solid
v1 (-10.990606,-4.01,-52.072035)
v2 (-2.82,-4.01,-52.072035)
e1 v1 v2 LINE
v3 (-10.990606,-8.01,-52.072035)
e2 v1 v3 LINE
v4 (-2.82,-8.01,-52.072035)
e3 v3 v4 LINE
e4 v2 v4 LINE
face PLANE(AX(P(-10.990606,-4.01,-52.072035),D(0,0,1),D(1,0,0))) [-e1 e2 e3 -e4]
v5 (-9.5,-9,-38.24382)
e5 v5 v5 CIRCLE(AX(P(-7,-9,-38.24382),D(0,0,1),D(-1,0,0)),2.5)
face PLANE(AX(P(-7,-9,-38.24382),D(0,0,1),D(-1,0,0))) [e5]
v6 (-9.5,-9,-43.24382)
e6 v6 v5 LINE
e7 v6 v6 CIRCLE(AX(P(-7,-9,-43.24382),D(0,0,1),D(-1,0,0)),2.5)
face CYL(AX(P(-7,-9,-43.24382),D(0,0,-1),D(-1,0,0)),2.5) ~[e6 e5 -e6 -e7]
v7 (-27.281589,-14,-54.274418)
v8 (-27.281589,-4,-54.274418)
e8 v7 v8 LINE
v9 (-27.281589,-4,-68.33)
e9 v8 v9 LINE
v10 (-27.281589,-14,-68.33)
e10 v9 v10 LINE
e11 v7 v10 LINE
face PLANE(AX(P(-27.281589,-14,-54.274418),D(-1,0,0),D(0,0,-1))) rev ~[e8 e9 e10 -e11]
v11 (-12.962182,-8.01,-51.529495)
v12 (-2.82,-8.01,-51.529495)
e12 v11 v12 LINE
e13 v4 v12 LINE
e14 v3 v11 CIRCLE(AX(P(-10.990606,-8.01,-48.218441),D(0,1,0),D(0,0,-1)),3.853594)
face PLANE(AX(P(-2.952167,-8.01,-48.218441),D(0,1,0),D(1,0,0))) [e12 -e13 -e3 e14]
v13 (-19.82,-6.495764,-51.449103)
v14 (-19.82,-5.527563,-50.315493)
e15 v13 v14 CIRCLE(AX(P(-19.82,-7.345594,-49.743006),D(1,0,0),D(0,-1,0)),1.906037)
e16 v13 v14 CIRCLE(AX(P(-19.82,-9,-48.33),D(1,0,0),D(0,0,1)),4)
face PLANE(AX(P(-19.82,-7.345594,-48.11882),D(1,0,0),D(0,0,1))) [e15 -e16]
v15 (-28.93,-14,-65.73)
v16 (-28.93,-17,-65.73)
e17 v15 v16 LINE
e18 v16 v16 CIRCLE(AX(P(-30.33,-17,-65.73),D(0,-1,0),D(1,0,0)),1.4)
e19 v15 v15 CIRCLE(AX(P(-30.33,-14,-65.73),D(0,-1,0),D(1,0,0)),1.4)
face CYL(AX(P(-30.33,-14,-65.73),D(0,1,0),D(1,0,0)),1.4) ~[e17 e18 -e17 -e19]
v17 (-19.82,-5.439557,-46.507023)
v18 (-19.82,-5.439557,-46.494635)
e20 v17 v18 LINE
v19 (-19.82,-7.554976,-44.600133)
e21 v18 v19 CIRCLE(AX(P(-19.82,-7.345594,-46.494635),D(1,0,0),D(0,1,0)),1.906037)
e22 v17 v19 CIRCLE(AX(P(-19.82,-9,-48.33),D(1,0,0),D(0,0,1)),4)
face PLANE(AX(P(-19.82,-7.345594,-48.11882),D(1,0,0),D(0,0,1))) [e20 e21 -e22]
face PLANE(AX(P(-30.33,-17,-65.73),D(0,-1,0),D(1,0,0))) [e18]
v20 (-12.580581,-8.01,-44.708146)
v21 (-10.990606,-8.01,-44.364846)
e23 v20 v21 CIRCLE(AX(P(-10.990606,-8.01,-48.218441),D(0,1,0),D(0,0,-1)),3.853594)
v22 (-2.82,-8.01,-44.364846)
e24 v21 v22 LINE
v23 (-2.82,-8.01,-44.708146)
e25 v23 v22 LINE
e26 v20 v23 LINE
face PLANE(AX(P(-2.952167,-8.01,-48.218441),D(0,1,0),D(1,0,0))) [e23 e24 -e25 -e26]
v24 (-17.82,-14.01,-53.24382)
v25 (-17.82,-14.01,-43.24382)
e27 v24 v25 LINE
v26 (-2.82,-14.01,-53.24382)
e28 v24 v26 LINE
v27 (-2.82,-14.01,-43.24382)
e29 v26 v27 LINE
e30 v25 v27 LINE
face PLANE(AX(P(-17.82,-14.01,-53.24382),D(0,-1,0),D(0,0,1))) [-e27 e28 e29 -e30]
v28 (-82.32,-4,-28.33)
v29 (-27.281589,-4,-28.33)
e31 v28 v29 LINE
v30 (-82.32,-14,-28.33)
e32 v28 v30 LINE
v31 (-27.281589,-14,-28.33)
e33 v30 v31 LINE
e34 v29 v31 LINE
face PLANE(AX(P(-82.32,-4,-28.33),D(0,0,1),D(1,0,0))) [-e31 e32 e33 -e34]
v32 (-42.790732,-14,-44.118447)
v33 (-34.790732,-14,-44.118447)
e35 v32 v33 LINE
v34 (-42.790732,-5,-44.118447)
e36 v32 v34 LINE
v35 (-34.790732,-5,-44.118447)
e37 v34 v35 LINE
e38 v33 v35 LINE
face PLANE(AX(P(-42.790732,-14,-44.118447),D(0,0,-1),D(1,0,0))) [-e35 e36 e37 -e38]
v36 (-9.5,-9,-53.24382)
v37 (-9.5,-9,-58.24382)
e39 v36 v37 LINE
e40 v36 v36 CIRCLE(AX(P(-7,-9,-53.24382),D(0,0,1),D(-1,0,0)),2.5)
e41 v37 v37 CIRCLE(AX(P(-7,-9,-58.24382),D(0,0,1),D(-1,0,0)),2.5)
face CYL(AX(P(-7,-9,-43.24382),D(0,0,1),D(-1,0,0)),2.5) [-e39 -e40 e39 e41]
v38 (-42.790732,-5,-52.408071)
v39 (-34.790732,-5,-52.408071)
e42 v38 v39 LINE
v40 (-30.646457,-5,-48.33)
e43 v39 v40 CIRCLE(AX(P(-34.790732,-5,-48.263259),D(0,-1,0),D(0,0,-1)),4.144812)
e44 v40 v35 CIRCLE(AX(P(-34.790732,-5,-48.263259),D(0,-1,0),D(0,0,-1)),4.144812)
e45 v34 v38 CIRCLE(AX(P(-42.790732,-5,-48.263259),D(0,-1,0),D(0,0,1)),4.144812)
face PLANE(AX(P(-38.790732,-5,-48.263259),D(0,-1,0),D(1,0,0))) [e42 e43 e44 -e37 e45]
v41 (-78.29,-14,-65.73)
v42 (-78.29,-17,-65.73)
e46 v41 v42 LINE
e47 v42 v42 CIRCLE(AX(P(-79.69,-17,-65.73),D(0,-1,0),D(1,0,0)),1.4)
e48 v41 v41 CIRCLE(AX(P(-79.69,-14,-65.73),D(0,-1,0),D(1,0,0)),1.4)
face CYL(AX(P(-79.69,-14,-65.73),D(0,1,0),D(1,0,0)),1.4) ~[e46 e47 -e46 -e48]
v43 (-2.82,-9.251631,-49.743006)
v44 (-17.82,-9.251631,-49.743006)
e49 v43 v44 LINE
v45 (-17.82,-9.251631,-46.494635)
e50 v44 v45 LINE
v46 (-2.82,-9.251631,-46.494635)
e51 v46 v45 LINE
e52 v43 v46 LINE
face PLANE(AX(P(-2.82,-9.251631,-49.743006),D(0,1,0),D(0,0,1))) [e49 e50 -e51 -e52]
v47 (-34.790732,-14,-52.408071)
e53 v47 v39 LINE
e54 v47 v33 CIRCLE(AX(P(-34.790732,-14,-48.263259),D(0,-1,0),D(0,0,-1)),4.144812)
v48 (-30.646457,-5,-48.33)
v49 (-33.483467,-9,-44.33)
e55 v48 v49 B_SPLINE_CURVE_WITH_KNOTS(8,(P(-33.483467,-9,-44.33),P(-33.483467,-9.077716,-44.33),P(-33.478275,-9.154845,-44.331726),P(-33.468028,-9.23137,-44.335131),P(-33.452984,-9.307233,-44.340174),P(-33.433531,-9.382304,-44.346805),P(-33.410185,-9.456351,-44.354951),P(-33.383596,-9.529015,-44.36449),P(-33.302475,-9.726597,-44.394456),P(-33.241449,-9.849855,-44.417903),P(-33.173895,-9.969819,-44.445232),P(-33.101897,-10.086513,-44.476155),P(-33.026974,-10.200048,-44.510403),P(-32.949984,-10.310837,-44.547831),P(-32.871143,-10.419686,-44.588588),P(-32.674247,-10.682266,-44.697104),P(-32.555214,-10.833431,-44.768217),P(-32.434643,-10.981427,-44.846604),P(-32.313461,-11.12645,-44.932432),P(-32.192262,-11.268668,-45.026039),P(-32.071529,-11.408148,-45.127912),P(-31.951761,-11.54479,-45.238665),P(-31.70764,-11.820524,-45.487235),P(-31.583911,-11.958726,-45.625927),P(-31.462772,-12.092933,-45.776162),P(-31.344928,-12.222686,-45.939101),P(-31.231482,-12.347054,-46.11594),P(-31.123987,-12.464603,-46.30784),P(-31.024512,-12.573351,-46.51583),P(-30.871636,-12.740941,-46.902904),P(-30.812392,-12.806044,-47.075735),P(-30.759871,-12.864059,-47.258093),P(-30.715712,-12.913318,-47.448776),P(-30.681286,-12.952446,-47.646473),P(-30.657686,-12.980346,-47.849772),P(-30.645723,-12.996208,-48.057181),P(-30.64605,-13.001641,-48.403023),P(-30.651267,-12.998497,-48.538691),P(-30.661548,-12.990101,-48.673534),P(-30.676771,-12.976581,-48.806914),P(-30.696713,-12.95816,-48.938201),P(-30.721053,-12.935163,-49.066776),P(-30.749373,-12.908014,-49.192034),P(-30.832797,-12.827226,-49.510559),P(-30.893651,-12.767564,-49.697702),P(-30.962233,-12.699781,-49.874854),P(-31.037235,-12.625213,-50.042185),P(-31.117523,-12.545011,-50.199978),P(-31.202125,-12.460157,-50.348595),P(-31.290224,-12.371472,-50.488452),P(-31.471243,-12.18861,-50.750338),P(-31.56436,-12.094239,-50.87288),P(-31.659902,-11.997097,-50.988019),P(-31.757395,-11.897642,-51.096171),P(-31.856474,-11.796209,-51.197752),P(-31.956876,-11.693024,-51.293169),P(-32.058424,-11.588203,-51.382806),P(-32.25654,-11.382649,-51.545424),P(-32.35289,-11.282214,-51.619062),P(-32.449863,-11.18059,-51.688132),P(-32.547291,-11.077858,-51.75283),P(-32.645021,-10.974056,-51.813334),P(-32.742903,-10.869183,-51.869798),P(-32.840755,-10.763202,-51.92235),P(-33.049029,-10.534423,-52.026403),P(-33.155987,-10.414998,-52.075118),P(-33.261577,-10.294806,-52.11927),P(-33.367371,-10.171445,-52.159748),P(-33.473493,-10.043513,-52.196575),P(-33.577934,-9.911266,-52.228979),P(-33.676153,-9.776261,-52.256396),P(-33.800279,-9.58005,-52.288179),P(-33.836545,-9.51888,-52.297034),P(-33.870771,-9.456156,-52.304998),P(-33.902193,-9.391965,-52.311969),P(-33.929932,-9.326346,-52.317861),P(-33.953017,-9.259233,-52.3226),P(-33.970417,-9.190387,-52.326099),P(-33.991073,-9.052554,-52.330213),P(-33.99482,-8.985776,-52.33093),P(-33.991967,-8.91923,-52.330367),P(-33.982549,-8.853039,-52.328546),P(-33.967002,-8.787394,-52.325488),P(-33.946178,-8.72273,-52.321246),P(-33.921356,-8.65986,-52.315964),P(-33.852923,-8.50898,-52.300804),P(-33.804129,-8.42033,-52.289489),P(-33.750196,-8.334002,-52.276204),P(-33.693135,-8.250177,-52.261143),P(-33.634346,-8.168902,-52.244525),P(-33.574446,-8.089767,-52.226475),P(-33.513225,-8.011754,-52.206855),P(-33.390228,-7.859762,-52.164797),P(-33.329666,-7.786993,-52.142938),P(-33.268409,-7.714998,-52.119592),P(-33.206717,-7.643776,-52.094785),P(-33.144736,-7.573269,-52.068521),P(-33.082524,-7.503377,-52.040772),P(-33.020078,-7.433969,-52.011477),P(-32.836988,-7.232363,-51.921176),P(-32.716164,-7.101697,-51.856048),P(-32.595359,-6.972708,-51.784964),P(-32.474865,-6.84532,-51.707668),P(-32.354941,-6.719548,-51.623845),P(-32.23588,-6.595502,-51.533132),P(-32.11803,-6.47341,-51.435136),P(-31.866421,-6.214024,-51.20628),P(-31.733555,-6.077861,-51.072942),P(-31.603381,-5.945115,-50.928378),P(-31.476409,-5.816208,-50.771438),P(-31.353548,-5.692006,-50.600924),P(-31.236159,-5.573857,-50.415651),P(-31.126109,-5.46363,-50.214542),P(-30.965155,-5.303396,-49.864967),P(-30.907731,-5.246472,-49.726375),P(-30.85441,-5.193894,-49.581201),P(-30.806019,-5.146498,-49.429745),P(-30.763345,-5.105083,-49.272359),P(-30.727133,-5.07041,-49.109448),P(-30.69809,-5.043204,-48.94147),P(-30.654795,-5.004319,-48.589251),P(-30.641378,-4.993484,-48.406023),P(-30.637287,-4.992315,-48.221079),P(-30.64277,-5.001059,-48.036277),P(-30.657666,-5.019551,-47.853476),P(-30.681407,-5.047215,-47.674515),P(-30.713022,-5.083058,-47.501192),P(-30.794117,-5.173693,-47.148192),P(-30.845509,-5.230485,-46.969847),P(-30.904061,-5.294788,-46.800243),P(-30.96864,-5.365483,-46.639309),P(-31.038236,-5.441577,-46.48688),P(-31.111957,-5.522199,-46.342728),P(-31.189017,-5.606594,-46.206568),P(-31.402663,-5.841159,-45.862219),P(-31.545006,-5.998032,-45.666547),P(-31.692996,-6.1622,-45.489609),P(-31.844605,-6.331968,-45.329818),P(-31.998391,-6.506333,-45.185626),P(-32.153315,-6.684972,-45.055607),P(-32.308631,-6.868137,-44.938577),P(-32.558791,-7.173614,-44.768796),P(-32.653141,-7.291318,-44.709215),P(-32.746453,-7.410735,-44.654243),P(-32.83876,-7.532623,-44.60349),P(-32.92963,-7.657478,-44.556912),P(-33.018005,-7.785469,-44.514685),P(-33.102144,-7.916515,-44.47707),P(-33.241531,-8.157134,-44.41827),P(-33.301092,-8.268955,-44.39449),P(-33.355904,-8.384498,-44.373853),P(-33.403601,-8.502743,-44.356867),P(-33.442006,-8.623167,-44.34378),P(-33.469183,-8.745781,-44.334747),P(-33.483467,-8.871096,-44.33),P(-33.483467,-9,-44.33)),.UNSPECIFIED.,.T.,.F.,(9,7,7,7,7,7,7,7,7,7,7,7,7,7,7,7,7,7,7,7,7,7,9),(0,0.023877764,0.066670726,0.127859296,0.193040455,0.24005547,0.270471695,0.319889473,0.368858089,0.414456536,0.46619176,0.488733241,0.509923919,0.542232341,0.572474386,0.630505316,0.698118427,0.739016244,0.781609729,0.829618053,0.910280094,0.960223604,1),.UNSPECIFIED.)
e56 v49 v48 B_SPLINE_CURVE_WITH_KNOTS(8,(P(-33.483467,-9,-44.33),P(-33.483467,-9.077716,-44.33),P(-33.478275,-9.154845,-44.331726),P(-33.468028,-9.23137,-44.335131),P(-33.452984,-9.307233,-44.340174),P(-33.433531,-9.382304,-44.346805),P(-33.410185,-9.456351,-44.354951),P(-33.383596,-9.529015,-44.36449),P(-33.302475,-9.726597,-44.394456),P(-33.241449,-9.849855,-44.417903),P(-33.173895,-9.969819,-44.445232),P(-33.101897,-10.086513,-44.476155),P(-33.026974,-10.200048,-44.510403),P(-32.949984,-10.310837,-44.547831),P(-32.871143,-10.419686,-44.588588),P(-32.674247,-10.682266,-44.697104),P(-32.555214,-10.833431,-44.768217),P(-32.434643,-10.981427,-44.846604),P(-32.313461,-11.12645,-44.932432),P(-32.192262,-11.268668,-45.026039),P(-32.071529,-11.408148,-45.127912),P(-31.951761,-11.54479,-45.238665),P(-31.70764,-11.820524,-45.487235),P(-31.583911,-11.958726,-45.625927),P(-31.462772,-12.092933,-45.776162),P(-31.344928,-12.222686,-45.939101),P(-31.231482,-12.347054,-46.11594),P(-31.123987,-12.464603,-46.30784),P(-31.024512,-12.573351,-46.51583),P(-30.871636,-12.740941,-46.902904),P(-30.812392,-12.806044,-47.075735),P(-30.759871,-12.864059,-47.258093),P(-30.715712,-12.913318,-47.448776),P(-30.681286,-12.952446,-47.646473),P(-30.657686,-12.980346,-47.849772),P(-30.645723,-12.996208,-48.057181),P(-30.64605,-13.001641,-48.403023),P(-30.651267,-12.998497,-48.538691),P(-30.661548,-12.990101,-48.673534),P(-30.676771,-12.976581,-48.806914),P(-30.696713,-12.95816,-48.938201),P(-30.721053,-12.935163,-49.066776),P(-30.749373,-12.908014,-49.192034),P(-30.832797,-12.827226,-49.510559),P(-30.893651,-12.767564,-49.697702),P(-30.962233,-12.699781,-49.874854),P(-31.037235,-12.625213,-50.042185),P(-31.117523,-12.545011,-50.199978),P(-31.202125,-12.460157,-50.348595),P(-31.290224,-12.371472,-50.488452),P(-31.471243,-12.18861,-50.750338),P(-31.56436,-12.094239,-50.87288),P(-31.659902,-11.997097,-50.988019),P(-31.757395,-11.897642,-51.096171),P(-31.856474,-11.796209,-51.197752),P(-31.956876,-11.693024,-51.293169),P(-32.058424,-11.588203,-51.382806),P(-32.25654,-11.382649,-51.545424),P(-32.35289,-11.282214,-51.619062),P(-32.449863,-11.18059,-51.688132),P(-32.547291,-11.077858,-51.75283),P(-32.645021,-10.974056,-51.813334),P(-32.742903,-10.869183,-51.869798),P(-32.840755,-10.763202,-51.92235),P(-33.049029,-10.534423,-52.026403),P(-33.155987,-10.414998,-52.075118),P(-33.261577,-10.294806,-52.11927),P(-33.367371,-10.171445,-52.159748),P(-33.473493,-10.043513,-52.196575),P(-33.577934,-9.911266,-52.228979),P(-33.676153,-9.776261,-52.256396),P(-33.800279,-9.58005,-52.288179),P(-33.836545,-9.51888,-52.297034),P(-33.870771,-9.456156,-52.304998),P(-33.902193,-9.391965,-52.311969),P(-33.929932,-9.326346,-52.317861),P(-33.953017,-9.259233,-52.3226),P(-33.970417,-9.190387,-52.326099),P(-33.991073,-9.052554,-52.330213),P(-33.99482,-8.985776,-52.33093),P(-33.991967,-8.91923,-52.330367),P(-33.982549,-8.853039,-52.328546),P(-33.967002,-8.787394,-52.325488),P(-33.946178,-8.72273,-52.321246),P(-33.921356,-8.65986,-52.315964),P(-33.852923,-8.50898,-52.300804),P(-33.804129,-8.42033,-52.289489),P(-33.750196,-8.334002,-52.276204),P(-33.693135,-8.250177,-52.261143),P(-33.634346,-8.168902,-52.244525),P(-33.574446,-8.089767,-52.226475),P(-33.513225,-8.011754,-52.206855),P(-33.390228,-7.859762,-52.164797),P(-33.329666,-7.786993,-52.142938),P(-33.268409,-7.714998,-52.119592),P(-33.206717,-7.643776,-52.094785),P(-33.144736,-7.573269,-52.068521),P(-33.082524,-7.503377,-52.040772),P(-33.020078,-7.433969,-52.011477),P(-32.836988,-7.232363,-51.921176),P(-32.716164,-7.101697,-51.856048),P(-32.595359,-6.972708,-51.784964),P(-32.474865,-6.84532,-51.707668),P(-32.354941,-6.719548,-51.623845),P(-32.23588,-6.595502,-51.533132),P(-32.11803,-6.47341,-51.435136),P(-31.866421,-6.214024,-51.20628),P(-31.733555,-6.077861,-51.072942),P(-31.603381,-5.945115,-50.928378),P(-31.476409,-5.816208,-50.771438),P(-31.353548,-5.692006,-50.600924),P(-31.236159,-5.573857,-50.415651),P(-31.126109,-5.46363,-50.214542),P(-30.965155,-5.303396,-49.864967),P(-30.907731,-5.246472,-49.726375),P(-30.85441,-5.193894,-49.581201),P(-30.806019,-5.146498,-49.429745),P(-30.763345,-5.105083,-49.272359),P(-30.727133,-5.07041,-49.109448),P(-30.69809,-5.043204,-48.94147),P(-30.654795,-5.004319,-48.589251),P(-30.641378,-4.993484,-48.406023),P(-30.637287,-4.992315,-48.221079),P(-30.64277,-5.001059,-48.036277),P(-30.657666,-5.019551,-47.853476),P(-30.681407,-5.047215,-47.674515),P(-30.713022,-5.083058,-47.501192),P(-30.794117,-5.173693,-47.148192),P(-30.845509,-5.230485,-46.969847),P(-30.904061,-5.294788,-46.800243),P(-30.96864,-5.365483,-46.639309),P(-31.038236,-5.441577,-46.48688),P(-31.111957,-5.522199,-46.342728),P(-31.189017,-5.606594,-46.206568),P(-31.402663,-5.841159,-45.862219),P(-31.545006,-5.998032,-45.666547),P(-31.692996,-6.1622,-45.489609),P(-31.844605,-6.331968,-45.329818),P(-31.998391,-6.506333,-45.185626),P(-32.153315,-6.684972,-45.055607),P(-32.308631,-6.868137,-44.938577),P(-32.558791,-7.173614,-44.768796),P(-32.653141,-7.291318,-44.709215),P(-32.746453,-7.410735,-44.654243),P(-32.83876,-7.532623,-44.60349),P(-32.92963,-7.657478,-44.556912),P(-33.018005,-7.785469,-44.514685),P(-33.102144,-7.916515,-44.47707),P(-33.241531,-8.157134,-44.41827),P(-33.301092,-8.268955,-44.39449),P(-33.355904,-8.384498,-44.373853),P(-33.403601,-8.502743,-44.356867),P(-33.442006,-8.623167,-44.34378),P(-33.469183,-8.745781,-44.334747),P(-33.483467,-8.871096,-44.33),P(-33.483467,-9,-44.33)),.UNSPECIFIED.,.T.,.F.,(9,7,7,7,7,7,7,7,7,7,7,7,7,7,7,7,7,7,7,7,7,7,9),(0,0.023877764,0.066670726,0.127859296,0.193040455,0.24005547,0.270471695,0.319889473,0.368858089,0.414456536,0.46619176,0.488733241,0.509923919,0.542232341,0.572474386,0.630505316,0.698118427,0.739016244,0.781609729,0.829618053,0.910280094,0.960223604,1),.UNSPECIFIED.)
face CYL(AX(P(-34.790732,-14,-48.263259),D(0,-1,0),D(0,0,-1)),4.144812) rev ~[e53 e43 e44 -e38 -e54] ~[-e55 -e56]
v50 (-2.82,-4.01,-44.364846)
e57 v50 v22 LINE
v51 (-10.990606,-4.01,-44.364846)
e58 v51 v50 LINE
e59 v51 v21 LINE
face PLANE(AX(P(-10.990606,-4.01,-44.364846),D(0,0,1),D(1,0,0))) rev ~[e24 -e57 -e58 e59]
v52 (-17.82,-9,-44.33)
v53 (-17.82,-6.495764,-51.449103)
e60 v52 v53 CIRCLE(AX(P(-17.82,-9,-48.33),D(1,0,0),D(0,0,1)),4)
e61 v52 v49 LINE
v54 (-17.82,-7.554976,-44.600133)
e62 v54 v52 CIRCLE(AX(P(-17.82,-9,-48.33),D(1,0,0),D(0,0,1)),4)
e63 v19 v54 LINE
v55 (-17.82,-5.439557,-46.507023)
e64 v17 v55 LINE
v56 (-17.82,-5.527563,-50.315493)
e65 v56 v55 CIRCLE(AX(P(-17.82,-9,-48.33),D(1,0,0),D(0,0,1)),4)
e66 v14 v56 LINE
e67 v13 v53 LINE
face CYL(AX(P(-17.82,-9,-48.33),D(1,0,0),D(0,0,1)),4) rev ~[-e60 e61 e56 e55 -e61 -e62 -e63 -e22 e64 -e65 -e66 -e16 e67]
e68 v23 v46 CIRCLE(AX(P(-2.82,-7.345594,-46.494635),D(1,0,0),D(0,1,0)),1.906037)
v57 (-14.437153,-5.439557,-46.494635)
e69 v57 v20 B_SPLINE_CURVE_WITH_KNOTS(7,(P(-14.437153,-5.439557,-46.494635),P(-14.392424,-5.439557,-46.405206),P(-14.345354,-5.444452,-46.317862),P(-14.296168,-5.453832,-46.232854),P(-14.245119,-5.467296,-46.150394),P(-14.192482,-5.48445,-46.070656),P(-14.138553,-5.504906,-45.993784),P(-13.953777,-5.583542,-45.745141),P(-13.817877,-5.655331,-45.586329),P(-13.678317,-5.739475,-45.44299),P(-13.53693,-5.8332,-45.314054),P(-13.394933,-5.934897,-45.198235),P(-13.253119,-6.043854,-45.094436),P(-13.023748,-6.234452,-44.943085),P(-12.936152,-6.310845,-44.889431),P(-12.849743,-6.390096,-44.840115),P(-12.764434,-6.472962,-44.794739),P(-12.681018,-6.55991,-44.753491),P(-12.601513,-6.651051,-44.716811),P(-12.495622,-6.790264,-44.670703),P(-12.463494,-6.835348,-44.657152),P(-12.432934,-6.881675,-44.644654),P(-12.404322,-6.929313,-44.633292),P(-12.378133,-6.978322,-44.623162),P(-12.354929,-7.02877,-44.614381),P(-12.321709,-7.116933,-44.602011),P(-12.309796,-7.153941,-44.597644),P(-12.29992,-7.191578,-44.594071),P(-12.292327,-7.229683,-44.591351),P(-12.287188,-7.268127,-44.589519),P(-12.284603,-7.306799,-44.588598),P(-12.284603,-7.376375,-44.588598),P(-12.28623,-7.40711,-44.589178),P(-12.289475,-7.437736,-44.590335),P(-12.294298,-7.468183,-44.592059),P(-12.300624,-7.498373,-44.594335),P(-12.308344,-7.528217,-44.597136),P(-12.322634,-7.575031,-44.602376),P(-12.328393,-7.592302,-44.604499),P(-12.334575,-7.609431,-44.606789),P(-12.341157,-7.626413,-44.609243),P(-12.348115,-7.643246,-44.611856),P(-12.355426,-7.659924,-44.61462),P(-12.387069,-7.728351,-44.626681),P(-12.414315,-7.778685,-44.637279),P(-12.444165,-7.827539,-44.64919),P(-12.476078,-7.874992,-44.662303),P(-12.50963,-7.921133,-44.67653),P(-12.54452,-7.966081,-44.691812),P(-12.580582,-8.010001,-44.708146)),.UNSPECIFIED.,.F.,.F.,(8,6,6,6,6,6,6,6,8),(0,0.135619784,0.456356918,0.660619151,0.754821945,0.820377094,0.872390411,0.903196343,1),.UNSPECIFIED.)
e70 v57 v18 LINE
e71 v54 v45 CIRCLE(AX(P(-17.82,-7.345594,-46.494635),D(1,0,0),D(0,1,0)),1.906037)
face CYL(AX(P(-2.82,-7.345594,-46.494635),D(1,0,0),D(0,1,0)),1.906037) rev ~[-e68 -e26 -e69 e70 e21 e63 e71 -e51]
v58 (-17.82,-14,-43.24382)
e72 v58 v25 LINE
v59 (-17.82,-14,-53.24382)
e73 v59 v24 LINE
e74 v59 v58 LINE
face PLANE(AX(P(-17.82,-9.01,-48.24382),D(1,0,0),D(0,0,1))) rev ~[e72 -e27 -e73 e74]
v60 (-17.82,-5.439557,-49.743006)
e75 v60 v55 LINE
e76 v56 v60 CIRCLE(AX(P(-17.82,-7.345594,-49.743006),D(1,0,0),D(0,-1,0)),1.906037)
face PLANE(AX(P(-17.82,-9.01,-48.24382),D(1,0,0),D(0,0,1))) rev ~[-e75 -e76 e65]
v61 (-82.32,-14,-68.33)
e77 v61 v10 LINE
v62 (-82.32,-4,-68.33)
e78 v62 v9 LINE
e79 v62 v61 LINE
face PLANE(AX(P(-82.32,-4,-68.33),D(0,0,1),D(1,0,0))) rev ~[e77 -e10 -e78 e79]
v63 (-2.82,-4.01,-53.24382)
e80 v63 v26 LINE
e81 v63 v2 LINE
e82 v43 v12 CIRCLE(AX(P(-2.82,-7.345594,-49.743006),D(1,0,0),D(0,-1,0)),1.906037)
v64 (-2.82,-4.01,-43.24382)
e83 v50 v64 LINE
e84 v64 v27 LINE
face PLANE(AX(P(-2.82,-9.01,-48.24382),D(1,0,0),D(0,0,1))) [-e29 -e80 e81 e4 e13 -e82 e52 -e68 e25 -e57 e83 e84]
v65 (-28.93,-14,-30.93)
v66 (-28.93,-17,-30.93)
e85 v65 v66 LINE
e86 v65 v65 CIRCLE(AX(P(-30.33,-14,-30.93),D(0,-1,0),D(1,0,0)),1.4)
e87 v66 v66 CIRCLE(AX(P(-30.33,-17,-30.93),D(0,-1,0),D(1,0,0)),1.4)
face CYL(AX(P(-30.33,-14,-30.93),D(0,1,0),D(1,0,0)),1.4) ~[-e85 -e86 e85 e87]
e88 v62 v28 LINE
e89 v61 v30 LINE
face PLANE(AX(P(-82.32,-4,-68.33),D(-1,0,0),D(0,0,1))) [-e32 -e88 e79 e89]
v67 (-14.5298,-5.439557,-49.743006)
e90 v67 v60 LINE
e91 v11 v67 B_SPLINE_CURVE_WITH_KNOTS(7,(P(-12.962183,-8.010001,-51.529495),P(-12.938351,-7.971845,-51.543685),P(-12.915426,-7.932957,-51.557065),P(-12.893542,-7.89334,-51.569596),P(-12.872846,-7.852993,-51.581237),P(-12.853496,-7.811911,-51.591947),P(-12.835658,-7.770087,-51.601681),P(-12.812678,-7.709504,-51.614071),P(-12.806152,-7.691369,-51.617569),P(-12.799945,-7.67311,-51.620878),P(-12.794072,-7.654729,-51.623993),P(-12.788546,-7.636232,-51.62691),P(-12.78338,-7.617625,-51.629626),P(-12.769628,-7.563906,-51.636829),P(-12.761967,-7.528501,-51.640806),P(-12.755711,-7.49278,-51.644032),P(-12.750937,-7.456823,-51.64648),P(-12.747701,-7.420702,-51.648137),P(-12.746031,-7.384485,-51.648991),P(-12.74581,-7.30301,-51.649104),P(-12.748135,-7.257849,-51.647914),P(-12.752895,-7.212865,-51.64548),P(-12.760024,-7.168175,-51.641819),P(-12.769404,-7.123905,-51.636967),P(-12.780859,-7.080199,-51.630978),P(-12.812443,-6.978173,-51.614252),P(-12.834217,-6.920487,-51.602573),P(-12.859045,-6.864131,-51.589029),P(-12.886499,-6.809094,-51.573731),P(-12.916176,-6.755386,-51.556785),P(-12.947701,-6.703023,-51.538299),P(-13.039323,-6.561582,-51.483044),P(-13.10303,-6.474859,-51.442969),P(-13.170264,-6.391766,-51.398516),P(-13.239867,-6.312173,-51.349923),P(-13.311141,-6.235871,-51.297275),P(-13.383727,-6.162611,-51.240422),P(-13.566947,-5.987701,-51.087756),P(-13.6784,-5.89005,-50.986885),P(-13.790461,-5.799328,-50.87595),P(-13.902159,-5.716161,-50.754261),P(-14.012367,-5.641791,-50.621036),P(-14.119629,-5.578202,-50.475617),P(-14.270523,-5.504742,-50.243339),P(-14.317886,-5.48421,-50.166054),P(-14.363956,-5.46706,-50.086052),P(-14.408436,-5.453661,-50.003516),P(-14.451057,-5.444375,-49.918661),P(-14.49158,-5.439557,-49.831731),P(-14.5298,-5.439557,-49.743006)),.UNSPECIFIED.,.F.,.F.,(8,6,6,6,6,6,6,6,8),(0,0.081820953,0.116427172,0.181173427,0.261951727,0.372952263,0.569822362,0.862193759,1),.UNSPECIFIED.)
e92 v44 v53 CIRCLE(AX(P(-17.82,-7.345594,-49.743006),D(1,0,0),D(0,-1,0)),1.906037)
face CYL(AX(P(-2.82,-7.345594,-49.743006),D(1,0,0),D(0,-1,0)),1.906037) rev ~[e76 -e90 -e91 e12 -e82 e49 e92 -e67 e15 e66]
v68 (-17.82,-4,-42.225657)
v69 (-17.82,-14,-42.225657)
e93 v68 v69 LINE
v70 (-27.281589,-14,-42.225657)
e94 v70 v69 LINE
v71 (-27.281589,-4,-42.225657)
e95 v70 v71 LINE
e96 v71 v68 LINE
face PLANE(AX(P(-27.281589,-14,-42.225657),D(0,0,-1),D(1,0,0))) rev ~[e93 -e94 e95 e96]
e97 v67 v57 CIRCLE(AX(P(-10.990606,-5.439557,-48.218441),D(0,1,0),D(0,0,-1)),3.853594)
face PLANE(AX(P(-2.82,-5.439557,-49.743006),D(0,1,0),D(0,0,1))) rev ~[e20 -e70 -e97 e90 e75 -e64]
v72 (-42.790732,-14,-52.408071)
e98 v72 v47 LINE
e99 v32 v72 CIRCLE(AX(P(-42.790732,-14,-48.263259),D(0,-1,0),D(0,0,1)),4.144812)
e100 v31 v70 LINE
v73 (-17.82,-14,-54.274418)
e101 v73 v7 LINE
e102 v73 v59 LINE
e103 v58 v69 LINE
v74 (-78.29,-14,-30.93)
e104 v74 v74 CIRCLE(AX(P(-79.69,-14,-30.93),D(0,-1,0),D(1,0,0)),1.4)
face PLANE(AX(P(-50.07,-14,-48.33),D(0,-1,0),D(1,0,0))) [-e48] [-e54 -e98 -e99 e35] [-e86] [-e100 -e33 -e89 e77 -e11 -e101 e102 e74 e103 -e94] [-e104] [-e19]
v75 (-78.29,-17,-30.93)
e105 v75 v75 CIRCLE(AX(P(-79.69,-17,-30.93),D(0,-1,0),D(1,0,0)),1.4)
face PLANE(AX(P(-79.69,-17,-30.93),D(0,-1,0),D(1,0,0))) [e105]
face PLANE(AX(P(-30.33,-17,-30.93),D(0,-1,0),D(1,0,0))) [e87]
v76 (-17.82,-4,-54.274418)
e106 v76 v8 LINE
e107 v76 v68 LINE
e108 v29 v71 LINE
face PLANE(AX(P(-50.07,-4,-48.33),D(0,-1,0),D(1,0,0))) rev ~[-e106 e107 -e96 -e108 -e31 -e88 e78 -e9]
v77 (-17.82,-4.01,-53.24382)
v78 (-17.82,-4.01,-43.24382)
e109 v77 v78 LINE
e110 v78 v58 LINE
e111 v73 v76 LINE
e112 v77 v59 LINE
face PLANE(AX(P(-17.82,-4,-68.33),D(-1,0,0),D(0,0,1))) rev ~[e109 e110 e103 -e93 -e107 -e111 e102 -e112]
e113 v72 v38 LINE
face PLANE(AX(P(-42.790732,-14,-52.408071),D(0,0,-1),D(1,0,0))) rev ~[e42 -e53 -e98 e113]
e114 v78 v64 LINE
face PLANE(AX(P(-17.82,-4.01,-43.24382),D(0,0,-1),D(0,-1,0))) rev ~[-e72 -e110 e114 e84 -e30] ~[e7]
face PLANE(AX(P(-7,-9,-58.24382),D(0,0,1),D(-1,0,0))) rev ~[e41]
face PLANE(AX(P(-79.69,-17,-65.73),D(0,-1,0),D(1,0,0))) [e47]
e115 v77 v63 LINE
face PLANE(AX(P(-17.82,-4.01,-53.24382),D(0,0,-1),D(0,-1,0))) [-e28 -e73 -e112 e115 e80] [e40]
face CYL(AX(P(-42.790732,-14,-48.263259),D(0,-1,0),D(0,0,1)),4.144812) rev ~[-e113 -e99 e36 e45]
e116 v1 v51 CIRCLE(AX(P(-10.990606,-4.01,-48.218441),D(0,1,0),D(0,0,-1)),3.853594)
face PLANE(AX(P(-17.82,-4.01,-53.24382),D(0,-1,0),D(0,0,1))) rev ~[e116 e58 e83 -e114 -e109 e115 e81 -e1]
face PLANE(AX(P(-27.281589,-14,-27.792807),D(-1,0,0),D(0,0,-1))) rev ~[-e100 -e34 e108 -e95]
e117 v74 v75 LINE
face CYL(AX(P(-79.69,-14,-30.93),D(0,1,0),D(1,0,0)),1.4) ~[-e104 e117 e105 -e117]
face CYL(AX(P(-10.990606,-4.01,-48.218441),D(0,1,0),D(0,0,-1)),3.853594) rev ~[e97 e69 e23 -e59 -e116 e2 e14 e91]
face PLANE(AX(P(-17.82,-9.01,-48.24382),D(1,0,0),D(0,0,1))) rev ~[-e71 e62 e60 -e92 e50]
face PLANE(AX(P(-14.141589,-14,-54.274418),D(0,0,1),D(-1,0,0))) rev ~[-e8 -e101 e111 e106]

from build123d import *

# Parameters (mm, degrees)
SKETCH032_W       = 64.5
SKETCH032_H       = 40
PAD013_DEPTH      = 10
SKETCH034_R       = 1.4
PAD014_DEPTH      = 3
SKETCH035_R       = 4
HOLE003_DEPTH     = 18
POCKET015_DEPTH   = 9
POCKET016_DEPTH   = 10.001
SKETCH038_W       = 10
SKETCH038_H       = 10
PAD015_DEPTH      = 15
SKETCH039_R       = 2.5
PAD016_DEPTH      = 5
PAD016_DEPTH_BACK = 15
POCKET017_DEPTH   = 17
POCKET019_DEPTH   = 4


with BuildPart() as part:
    # Sketch032 → Pad013 (new body)
    with BuildSketch(Plane.XZ):
        with Locations((-50.07, -27.33)):
            Rectangle(SKETCH032_W, SKETCH032_H)
    extrude(amount=PAD013_DEPTH)

    # Sketch034 (on Face6 of Pad013) → Pad014 (join)
    with BuildSketch(Plane.XZ.offset(10)):
        with Locations((-79.69, -44.73)):
            Circle(SKETCH034_R)
        with Locations((-79.69, -9.93)):
            Circle(SKETCH034_R)
        with Locations((-30.33, -44.73)):
            Circle(SKETCH034_R)
        with Locations((-30.33, -9.93)):
            Circle(SKETCH034_R)
    extrude(amount=PAD014_DEPTH)

    # Sketch035 (on Face2 of Pad014) → Hole003 (cut)
    with BuildSketch(Plane(origin=(-17.82, 0, 0), x_dir=(0, 0, 1), z_dir=(1, 0, 0))):
        with Locations((-27.33, 5)):
            Circle(SKETCH035_R)
    extrude(amount=-HOLE003_DEPTH, mode=Mode.SUBTRACT)

    # Sketch036 (on Face5 of Hole003) → Pocket015 (cut)
    with BuildSketch(Plane.XZ.offset(10)):
        with BuildLine():
            ThreePointArc((-42.7907317107, -23.1184468896), (-46.935543609, -27.2632587879), (-42.7907317107, -31.4080706862))
            Line((-42.7907317107, -31.4080706862), (-34.7907317107, -31.4080706862))
            ThreePointArc((-34.7907317107, -31.4080706862), (-30.6459198124, -27.2632587879), (-34.7907317107, -23.1184468896))
            Line((-42.7907317107, -23.1184468896), (-34.7907317107, -23.1184468896))
        make_face()
    extrude(amount=-POCKET015_DEPTH, mode=Mode.SUBTRACT)

    # Sketch037 (on Face5 of Pocket015) → Pocket016 (cut, through all)
    with BuildSketch(Plane.XZ.offset(10)):
        Polygon((-8.75606, -47.792807), (-8.75606, -6.792807), (-27.2815885194, -6.792807), (-27.2815885194, -21.225657), (-14.1415885194, -21.225657), (-14.1415885194, -33.274418), (-27.2815885194, -33.274418), (-27.2815885194, -47.792807), align=None)
    extrude(amount=-POCKET016_DEPTH, mode=Mode.SUBTRACT)

    # Sketch038 (on Face7 of Pocket016) → Pad015 (join)
    with BuildSketch(Plane(origin=(-17.82, 0, 0), x_dir=(0, 0, 1), z_dir=(1, 0, 0))):
        with Locations((-27.24382, 5.01)):
            Rectangle(SKETCH038_W, SKETCH038_H)
    extrude(amount=PAD015_DEPTH)

    # Sketch039 (on Face20 of Pad015) → Pad016 (join, two sides)
    with BuildSketch(Plane(origin=(0, 0, -22.24382), x_dir=(-1, 0, 0), z_dir=(0, 0, 1))) as pad016_sk:
        with Locations((7, 5)):
            Circle(SKETCH039_R)
    extrude(amount=PAD016_DEPTH)
    extrude(pad016_sk.sketch, amount=-PAD016_DEPTH_BACK)

    # Sketch040 (on Face31 of Pad016) → Pocket017 (cut)
    with BuildSketch(Plane(origin=(-2.82, 0, 0), x_dir=(0, 0, 1), z_dir=(1, 0, 0))):
        with BuildLine():
            ThreePointArc((-28.743006, 5.2516311207), (-30.6490431207, 3.345594), (-28.743006, 1.4395568793))
            Line((-28.743006, 1.4395568793), (-25.494635, 1.4395568793))
            ThreePointArc((-25.494635, 1.4395568793), (-23.5885978793, 3.345594), (-25.494635, 5.2516311207))
            Line((-28.743006, 5.2516311207), (-25.494635, 5.2516311207))
        make_face()
    extrude(amount=-POCKET017_DEPTH, mode=Mode.SUBTRACT)

    # Sketch045 (on Face21 of Pocket017) → Pocket019 (cut)
    with BuildSketch(Plane(origin=(0, -0.01, 0), x_dir=(1, 0, 0), z_dir=(0, 1, 0))):
        with BuildLine():
            ThreePointArc((-10.990606, 31.0720355), (-14.8442005, 27.218441), (-10.990606, 23.3648465))
            Line((-10.990606, 23.3648465), (5.086273, 23.3648465))
            ThreePointArc((5.086273, 23.3648465), (8.9398675, 27.218441), (5.086273, 31.0720355))
            Line((-10.990606, 31.0720355), (5.086273, 31.0720355))
        make_face()
    extrude(amount=-POCKET019_DEPTH, mode=Mode.SUBTRACT)


with BuildPart() as part_1:
    # Body006 placement: moved
    add(part.part.moved(Location((0, -4, -21))))


solid = part_1.part
